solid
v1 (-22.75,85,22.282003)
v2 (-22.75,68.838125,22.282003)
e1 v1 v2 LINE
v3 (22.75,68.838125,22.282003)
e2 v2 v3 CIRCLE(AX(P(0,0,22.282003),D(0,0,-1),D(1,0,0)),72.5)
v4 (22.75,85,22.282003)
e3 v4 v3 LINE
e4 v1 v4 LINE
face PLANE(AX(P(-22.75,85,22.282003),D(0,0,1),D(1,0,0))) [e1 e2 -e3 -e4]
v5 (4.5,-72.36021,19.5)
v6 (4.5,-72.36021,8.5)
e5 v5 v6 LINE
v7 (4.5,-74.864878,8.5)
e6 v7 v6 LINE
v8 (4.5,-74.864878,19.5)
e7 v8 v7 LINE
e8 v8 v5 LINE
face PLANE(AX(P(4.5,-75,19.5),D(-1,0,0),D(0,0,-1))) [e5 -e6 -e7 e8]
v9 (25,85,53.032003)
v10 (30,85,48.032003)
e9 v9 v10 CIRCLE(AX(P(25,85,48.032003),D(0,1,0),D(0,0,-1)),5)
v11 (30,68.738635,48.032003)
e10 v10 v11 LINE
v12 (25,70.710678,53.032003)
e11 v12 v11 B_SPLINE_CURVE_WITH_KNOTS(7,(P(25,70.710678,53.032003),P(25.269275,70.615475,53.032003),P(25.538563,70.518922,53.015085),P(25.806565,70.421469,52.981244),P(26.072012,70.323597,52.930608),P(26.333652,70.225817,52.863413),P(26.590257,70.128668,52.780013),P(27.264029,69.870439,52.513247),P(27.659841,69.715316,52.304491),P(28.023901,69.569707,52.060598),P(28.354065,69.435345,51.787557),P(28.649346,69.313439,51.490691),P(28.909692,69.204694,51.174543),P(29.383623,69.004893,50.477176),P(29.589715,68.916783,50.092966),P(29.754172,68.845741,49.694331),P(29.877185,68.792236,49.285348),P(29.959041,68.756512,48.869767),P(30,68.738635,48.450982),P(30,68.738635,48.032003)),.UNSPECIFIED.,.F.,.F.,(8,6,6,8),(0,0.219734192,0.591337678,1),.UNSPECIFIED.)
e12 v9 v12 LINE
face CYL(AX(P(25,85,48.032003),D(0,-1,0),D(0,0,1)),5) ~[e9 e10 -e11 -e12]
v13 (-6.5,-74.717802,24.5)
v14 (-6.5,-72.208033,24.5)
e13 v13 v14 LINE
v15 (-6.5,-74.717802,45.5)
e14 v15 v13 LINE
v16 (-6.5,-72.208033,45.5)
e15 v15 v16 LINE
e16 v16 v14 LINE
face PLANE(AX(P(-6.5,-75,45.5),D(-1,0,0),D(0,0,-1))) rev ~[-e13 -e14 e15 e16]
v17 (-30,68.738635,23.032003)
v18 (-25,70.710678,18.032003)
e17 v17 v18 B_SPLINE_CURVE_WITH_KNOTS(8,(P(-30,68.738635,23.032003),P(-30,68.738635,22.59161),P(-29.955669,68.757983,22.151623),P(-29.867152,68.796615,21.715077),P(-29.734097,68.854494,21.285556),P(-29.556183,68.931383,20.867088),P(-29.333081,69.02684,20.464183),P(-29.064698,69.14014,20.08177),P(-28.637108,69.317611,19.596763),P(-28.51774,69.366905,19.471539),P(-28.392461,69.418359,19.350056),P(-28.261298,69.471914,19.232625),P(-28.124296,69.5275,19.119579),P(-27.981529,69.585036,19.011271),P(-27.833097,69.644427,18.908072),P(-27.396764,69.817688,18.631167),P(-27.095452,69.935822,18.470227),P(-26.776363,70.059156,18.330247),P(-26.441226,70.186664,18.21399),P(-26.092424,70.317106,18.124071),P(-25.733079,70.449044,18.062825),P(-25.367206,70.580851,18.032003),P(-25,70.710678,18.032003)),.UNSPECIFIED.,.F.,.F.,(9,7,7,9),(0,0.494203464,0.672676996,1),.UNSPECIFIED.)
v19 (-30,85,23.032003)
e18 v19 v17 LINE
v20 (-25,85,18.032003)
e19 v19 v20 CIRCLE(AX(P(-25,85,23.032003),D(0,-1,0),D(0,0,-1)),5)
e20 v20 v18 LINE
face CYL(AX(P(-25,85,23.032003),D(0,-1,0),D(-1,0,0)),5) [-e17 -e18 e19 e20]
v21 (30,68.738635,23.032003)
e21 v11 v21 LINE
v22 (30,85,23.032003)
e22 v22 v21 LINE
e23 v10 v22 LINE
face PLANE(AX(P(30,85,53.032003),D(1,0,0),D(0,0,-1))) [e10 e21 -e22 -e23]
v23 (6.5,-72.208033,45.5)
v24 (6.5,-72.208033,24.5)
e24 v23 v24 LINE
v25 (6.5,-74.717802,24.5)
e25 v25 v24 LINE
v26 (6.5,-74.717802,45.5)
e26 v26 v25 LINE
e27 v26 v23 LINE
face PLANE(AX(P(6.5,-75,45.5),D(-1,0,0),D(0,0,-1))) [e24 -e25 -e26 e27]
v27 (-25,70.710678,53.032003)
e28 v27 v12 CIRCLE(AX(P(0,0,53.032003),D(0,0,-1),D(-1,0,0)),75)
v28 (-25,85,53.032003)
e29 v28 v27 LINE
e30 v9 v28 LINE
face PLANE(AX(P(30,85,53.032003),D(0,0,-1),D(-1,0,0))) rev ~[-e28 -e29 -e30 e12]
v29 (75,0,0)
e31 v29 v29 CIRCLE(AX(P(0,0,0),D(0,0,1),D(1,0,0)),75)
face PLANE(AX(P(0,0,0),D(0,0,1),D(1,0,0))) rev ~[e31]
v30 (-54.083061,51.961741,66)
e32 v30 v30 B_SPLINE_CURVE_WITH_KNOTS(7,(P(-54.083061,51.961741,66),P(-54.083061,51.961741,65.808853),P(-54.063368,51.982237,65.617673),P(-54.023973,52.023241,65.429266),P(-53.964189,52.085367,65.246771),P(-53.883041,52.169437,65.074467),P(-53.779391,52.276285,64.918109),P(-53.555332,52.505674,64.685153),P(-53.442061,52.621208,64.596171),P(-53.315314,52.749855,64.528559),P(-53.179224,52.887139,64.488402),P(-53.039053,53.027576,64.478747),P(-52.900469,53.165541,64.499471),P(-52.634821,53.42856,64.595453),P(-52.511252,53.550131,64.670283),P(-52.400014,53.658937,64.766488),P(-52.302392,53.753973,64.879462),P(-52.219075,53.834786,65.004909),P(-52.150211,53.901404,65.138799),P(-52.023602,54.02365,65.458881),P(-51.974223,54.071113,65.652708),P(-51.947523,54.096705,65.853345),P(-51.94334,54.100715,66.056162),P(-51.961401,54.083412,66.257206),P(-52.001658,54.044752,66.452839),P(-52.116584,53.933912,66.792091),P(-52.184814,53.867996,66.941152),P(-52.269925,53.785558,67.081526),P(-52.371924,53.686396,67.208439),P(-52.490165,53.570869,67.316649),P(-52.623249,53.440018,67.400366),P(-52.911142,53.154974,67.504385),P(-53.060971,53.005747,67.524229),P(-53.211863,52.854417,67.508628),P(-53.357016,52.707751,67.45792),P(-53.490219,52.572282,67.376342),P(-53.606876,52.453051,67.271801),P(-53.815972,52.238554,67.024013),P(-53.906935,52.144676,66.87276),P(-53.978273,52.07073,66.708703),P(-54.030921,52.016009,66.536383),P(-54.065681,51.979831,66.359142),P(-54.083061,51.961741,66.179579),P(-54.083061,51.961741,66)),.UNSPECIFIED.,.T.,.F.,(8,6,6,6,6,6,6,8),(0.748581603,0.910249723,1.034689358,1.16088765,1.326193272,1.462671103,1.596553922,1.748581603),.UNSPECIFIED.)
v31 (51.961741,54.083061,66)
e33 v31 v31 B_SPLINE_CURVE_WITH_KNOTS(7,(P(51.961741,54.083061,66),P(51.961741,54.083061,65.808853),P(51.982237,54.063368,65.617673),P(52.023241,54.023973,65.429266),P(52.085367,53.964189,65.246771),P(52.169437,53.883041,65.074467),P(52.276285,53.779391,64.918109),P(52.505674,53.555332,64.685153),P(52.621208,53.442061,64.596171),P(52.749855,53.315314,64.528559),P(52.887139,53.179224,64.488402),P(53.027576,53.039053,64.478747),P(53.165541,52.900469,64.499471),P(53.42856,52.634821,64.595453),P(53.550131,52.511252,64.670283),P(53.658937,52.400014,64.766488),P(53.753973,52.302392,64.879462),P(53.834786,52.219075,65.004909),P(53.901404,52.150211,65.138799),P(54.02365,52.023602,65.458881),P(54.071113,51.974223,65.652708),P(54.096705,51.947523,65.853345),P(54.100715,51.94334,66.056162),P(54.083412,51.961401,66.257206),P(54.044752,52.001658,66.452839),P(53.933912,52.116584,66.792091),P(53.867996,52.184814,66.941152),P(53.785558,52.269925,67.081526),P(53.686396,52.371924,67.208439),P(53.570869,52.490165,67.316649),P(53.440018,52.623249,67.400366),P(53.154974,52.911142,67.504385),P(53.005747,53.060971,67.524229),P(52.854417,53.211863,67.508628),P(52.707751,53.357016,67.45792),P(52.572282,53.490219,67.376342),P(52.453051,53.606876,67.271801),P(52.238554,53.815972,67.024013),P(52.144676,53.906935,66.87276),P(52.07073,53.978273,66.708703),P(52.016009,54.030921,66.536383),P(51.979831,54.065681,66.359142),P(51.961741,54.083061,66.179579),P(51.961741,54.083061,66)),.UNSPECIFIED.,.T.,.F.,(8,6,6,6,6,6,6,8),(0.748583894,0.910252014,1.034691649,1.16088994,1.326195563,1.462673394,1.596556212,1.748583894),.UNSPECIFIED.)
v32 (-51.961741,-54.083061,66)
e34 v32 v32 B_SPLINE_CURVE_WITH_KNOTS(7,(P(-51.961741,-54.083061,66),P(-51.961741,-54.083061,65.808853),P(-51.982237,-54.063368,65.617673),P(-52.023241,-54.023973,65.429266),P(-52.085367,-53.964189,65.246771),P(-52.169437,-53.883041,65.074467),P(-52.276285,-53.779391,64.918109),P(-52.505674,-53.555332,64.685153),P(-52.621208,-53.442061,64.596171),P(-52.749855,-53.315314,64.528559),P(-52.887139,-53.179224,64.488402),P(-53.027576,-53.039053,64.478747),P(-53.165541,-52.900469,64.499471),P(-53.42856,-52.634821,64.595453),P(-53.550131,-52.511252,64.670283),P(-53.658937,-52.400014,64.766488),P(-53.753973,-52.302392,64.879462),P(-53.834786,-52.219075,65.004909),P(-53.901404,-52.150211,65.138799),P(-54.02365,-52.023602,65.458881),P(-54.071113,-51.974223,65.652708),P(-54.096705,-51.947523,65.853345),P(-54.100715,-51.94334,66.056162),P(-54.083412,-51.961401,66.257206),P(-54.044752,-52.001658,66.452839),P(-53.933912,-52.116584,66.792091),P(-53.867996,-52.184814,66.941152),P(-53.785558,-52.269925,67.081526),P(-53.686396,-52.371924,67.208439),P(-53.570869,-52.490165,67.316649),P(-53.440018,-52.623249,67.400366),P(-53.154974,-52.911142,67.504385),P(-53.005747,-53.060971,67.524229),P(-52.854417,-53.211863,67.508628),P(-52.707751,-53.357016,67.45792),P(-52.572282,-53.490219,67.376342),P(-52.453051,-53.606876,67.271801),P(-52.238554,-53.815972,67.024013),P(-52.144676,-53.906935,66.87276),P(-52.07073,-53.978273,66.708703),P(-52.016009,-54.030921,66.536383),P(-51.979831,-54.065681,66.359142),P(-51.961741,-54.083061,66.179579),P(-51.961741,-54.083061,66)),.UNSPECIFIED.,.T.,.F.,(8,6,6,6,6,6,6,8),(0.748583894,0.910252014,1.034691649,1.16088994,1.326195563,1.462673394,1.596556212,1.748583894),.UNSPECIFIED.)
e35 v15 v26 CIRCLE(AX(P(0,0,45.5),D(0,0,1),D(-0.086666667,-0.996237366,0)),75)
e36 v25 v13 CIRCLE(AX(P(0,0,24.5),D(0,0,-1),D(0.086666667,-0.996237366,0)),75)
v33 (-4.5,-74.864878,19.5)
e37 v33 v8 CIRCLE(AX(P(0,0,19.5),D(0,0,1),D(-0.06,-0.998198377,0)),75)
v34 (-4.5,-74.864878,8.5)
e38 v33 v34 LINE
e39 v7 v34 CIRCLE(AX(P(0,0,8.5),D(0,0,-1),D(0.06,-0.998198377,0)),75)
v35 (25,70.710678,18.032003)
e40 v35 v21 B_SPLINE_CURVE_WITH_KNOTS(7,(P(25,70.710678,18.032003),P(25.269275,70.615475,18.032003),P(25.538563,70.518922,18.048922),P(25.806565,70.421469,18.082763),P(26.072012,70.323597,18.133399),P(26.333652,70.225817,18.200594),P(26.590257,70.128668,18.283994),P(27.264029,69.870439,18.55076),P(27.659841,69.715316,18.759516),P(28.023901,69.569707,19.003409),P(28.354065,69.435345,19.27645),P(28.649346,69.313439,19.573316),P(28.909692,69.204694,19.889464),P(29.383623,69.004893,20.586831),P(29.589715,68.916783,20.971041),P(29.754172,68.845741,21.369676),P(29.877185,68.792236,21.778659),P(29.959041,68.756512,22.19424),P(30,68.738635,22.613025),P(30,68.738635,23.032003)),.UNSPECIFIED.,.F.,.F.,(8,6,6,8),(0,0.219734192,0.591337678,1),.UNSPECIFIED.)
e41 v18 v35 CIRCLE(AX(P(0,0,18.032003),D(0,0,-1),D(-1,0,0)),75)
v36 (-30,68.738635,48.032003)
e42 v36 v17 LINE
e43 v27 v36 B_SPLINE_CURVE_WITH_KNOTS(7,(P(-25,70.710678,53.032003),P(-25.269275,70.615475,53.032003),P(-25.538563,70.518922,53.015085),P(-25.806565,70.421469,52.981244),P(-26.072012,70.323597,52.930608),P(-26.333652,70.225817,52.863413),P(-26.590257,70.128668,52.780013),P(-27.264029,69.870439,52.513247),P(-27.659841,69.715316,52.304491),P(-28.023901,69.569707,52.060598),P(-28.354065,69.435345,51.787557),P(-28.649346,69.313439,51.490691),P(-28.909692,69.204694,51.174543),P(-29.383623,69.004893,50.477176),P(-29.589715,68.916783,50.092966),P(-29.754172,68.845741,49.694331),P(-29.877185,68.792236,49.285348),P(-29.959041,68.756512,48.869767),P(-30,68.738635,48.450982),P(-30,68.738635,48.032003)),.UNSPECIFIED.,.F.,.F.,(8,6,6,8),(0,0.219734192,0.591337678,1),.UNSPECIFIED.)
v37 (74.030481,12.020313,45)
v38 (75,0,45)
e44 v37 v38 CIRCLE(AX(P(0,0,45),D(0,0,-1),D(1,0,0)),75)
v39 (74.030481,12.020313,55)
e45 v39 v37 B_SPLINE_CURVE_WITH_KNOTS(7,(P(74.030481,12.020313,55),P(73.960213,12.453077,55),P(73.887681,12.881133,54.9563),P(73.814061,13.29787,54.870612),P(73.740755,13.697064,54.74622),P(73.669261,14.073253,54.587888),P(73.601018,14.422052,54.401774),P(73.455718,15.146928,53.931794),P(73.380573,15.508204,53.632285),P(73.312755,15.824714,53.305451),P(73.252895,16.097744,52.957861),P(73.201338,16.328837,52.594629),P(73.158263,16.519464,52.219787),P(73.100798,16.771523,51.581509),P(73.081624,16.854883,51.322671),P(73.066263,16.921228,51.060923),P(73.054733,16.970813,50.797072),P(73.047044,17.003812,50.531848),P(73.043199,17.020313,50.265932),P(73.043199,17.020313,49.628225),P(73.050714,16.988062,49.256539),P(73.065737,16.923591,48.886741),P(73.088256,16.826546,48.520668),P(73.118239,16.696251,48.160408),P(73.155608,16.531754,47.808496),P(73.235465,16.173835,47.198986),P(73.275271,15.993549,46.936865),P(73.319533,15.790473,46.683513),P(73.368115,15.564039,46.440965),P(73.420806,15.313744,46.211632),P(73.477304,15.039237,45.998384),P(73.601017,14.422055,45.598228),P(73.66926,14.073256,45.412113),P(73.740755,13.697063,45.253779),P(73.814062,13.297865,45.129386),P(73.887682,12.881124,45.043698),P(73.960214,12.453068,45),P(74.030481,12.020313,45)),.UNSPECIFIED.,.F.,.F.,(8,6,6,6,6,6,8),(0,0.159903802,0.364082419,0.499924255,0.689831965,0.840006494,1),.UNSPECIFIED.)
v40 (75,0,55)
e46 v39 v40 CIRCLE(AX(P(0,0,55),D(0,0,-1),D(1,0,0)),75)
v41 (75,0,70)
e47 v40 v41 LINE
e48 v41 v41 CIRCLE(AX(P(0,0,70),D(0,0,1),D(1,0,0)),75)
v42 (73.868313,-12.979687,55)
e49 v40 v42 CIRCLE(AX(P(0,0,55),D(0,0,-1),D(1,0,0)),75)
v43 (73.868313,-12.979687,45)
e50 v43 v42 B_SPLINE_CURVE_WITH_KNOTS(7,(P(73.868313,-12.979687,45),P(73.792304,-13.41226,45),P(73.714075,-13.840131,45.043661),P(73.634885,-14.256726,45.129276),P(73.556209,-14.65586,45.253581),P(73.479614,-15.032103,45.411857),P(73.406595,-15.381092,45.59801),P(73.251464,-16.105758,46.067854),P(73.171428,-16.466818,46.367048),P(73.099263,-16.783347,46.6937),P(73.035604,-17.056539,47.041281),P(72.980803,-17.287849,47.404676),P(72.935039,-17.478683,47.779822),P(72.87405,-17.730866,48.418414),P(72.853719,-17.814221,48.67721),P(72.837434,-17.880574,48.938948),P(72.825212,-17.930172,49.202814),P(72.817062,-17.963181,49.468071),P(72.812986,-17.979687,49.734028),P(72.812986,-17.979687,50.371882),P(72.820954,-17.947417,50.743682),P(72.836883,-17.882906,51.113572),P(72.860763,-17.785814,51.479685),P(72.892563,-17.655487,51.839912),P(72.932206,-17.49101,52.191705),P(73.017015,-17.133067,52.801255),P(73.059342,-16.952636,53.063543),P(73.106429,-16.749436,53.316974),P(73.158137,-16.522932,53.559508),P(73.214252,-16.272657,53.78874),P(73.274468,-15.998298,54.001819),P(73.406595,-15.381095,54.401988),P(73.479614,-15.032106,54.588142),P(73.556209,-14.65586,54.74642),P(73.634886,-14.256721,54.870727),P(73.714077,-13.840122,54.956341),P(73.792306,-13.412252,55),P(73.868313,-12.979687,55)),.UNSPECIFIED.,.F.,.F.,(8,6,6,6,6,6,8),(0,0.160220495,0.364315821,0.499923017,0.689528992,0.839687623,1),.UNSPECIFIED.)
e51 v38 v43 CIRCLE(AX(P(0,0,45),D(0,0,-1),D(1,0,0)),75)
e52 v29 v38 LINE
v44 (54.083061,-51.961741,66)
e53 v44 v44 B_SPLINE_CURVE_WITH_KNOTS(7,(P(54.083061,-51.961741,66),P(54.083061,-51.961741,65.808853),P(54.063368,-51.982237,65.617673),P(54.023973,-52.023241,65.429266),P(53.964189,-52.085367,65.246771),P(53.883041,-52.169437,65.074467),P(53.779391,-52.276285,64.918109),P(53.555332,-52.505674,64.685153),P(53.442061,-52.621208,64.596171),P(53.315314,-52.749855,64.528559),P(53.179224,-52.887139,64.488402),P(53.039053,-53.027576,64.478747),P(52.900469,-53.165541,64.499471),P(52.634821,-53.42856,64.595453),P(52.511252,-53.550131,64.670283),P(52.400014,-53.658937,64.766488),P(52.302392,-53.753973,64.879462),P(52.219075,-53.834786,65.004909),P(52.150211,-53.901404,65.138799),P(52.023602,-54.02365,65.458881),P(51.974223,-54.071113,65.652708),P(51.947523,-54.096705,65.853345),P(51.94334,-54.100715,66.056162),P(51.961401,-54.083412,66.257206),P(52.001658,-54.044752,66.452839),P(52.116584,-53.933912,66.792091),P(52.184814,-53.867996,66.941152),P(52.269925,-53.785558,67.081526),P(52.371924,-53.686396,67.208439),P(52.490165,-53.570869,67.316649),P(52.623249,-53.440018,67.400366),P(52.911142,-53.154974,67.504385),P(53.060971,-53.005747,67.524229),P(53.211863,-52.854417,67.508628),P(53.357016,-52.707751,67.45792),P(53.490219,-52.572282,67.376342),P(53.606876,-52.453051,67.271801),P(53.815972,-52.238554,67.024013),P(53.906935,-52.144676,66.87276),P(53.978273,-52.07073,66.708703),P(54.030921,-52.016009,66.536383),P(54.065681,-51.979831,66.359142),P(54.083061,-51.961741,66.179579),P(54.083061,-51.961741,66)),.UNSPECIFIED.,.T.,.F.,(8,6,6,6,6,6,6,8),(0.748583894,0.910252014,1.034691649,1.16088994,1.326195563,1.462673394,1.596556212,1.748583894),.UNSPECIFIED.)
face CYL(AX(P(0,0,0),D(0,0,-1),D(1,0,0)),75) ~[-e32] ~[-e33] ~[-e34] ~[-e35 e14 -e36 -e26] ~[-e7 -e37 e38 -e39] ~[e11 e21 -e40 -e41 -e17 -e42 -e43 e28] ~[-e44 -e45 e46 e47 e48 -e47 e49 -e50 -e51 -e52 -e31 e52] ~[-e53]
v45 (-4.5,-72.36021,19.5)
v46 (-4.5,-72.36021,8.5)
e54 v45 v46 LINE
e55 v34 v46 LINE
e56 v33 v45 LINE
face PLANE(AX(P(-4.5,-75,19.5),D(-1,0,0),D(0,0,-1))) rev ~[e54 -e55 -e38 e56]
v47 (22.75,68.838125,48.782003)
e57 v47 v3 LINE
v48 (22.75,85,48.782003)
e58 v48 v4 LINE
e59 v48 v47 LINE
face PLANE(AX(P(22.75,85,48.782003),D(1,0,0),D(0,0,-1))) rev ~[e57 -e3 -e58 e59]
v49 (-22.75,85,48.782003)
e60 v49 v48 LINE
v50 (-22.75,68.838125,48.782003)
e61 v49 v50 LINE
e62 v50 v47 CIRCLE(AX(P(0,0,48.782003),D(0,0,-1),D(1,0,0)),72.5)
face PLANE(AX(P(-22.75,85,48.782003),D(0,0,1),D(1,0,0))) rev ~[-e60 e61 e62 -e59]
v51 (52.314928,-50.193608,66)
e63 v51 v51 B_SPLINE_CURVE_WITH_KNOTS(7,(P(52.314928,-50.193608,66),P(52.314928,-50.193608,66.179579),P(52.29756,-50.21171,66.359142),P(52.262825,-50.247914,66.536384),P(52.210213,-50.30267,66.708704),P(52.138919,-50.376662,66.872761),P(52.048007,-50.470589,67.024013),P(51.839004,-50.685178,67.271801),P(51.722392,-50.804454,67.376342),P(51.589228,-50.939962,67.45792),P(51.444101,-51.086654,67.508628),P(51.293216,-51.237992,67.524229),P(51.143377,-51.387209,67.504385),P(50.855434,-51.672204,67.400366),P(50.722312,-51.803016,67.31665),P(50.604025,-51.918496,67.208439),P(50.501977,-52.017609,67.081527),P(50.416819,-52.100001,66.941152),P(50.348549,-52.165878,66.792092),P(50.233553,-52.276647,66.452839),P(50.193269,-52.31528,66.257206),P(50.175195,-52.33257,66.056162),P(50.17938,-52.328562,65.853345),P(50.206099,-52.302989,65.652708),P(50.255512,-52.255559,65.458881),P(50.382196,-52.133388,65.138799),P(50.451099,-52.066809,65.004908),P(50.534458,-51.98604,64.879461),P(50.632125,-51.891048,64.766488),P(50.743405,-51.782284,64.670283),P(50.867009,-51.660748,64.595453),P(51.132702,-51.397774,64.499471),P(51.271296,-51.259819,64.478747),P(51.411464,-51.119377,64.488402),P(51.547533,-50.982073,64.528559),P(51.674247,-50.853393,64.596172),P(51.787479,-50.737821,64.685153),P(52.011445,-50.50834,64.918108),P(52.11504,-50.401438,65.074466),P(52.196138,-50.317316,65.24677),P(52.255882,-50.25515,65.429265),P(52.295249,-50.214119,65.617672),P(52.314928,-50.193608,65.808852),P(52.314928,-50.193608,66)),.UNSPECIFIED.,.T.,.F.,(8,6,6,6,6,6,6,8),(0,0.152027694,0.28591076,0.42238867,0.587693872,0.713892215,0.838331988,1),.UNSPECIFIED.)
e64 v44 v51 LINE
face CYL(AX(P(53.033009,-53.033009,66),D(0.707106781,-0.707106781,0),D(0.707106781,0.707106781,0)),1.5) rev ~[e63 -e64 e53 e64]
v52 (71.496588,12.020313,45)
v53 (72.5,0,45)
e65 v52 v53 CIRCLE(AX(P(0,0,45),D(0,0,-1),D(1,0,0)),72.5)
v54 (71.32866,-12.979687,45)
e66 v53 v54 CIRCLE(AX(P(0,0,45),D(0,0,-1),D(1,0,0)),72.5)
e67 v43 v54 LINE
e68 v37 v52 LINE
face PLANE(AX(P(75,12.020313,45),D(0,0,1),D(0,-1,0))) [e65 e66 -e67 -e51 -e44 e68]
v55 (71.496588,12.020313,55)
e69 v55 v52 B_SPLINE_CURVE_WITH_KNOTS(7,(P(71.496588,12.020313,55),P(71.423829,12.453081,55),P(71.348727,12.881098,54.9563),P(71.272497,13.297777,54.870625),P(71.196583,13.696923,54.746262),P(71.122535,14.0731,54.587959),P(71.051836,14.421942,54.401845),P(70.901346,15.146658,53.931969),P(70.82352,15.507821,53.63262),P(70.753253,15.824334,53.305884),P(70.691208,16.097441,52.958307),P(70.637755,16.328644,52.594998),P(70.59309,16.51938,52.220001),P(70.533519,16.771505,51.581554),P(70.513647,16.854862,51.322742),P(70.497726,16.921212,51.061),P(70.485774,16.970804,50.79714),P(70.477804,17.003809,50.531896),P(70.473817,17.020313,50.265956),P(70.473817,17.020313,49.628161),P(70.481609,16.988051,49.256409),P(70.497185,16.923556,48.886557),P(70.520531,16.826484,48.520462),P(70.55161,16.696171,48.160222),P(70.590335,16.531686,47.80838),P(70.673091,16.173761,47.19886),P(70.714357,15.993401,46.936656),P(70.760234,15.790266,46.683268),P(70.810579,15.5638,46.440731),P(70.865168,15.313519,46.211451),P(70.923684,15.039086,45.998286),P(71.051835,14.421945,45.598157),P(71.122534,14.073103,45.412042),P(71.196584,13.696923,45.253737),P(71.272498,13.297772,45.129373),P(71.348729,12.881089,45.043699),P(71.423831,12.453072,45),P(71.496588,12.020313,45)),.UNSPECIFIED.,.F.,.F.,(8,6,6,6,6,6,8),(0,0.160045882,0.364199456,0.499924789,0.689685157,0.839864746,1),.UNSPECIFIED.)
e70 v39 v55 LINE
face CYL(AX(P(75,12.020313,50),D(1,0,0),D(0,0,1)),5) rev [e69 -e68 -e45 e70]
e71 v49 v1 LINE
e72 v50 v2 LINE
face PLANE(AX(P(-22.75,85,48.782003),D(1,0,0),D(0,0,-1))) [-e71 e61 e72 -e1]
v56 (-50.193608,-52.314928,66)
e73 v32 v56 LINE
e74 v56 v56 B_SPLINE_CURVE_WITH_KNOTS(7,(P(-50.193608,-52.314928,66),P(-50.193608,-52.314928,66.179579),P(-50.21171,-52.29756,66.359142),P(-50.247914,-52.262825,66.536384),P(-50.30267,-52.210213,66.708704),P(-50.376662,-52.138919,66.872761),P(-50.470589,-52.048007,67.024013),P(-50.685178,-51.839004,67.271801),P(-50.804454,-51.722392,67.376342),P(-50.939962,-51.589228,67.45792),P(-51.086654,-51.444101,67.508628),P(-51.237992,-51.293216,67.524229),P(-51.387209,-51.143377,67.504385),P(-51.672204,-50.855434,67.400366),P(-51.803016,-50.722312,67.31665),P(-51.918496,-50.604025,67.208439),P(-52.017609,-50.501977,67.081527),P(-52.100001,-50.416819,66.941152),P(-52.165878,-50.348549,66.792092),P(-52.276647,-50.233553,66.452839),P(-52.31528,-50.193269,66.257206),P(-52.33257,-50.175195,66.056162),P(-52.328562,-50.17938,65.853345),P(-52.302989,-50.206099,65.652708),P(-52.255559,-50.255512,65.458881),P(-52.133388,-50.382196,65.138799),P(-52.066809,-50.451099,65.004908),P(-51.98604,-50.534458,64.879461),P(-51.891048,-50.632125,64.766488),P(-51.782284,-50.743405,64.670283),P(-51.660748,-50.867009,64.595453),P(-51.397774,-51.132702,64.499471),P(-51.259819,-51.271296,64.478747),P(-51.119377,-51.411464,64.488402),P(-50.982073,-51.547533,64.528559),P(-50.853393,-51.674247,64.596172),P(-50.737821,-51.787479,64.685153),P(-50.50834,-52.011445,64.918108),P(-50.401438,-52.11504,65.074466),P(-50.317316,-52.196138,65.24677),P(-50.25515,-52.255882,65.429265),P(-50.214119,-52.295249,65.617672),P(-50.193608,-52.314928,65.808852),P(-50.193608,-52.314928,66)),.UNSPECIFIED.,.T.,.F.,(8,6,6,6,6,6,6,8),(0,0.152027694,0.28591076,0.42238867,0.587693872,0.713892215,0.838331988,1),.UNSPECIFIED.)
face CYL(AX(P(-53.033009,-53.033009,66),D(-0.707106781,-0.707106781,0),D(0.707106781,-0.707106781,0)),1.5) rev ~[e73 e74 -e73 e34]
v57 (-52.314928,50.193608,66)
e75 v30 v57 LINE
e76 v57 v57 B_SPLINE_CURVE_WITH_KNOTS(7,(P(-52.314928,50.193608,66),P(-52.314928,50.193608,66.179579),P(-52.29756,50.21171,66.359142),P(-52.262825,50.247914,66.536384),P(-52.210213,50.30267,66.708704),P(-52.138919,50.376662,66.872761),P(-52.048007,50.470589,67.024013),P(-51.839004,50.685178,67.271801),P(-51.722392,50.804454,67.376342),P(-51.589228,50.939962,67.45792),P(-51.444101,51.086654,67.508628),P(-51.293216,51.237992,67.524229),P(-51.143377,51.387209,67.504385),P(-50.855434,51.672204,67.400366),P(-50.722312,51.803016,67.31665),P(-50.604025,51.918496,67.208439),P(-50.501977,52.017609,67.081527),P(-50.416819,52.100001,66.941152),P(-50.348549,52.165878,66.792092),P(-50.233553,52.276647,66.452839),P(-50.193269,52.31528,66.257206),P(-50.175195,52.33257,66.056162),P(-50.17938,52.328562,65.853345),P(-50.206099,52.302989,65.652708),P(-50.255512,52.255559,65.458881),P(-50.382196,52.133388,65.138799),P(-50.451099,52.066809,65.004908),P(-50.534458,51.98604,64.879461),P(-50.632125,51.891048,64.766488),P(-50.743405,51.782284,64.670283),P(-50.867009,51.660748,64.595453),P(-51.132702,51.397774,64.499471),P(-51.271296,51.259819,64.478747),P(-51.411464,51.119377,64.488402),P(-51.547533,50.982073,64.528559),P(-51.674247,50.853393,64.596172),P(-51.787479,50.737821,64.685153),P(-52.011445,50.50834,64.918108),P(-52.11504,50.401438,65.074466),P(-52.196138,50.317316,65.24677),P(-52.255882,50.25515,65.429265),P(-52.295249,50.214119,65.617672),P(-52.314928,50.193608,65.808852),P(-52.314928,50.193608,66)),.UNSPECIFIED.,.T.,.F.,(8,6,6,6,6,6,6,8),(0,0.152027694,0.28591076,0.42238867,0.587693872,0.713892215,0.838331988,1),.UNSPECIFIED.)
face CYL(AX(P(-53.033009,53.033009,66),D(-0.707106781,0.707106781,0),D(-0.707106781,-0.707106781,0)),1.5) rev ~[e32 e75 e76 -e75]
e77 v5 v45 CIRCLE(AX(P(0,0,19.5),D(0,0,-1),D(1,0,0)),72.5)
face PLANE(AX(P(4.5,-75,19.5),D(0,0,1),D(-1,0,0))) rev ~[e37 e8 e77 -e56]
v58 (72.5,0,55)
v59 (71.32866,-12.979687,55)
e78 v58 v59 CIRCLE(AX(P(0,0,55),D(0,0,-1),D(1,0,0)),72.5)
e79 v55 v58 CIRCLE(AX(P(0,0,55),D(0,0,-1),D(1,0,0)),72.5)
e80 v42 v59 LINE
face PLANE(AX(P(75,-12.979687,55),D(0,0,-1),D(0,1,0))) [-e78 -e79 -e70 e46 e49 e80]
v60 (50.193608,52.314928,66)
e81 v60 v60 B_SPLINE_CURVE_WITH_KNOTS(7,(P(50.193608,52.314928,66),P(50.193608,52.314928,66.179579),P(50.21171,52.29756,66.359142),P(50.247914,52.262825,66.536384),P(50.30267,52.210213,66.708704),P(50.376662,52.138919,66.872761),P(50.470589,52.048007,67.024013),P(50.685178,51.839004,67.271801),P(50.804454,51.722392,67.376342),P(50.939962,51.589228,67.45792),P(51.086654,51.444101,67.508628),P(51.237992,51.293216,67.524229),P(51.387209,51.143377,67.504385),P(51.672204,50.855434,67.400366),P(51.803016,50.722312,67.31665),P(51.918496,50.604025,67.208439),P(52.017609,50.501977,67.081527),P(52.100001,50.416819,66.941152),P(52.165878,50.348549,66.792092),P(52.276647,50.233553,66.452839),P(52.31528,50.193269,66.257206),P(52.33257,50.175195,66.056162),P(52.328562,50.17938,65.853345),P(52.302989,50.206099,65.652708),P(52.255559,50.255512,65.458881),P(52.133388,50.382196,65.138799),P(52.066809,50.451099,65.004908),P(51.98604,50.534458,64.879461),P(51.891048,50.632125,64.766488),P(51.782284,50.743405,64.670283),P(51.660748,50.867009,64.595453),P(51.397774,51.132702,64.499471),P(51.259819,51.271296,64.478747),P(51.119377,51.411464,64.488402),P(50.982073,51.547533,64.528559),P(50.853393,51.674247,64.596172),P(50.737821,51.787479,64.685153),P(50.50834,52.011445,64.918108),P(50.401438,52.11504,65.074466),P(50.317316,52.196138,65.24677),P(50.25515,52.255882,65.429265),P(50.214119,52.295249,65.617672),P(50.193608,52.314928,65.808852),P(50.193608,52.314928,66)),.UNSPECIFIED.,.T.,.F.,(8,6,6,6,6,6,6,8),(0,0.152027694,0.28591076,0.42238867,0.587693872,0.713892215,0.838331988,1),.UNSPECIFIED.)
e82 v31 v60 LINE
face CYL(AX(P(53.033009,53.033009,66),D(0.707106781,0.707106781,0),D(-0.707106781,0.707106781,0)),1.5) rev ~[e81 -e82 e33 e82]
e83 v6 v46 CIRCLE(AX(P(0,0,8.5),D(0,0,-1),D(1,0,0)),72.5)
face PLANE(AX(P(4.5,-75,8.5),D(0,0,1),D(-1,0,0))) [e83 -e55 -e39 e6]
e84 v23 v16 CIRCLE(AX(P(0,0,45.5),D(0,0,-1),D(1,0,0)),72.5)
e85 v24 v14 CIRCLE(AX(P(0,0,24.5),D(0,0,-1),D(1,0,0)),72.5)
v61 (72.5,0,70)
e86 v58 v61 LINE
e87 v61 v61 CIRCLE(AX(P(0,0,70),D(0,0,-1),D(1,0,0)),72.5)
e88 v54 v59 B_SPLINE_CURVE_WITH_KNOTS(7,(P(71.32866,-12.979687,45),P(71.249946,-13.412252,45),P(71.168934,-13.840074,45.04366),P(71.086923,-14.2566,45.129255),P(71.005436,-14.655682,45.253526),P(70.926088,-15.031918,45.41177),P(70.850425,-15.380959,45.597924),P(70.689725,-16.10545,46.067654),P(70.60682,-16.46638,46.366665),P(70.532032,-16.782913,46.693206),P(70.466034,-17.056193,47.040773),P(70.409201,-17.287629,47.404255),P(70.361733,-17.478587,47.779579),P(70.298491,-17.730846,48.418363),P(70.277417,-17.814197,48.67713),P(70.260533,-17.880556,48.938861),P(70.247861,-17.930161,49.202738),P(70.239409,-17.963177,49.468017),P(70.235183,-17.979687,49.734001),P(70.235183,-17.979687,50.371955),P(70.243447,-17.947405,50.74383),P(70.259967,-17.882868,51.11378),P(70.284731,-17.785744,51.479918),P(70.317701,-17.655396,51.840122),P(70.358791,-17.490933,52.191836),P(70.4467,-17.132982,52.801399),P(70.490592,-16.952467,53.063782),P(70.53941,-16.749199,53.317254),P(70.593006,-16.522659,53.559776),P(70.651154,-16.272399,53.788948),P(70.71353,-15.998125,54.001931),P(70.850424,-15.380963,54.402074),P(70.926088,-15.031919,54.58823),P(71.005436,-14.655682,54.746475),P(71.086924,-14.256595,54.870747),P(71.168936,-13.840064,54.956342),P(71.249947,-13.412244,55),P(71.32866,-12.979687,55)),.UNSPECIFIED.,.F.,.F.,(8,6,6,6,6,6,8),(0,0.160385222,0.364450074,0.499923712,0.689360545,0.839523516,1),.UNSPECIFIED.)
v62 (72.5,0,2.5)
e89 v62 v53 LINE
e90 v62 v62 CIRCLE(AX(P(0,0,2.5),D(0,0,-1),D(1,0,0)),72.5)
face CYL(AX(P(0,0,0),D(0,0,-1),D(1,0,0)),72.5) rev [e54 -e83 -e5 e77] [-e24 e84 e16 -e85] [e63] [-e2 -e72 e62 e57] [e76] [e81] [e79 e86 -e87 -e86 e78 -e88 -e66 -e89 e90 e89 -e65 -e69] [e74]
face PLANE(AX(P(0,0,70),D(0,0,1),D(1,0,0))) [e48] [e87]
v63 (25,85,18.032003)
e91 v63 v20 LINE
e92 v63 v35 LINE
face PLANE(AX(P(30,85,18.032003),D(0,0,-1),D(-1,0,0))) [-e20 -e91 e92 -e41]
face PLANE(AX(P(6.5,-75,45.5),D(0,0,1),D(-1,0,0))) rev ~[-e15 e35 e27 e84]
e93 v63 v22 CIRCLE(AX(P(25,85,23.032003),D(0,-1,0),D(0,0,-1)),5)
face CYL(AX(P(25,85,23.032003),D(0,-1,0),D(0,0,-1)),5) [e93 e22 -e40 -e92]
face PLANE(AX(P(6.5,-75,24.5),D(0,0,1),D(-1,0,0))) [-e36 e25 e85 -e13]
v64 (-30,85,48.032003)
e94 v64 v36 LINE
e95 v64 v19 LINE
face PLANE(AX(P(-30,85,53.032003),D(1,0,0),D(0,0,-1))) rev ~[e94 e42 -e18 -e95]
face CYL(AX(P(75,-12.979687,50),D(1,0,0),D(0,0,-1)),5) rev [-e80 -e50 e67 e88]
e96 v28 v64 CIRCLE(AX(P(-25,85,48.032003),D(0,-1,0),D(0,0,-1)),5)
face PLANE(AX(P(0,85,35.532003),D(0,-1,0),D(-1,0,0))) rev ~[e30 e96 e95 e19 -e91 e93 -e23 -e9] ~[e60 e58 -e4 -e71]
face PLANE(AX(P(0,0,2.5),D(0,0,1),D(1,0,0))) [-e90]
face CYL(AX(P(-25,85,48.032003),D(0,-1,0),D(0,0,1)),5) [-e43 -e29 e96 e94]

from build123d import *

# Parameters (mm, degrees)
SZKIC1_R                         = 75
DODANIE_WYCI_GNI_CIE1_DEPTH      = 70
SKORUPA1_T                       = -2.5
SZKIC3_W                         = 13
SZKIC3_H                         = 21
WYTNIJ_WYCI_GNI_CIE1_DEPTH       = 60
SZKIC4_W                         = 9
SZKIC4_H                         = 11
WYTNIJ_WYCI_GNI_CIE2_DEPTH       = 60
DODANIE_WYCI_GNI_CIE2_REACH      = 192.066
DODANIE_WYCI_GNI_CIE2_END_RADIUS = 75
SZKIC7_W                         = 60
SZKIC7_H                         = 35
SZKIC8_W                         = 45.5
SZKIC8_H                         = 26.5
WYTNIJ_WYCI_GNI_CIE4_DEPTH       = 30
ZAOKR_GLENIE1_R                  = 5
WYTNIJ_WYCI_GNI_CIE5_DEPTH       = 14
SZKIC10_R                        = 1.5
WYTNIJ_WYCI_GNI_CIE6_DEPTH       = 10
SZYK_KO_OWY1_COUNT               = 4


with BuildPart() as part:
    # Szkic1 → Dodanie-wyci_gni_cie1 (new body)
    with BuildSketch(Plane.XY):
        Circle(SZKIC1_R)
    extrude(amount=DODANIE_WYCI_GNI_CIE1_DEPTH)

    # Skorupa1
    skorupa1_openings = [part.faces().sort_by_distance(p)[0] for p in [
        (0, 0, 70),
    ]]
    offset(amount=SKORUPA1_T, openings=skorupa1_openings, kind=Kind.INTERSECTION)

    # Szkic3 → Wytnij-wyci_gni_cie1 (cut)
    with BuildSketch(Plane(origin=(0, -75, 0), x_dir=(-1, 0, 0), z_dir=(0, -1, 0))):
        with Locations((0, -35)):
            Rectangle(SZKIC3_W, SZKIC3_H)
    extrude(amount=-WYTNIJ_WYCI_GNI_CIE1_DEPTH, mode=Mode.SUBTRACT)

    # Szkic4 → Wytnij-wyci_gni_cie2 (cut)
    with BuildSketch(Plane(origin=(0, -75, 0), x_dir=(-1, 0, 0), z_dir=(0, -1, 0))):
        with Locations((0, -14)):
            Rectangle(SZKIC4_W, SZKIC4_H)
    extrude(amount=-WYTNIJ_WYCI_GNI_CIE2_DEPTH, mode=Mode.SUBTRACT)

    # Dodanie-wyci_gni_cie2: up to this cylinder (the profile starts outside it)
    dodanie_wyci_gni_cie2_end = Plane(origin=(0, 0, 35.532003), z_dir=(0, 0, -1)) * Cylinder(DODANIE_WYCI_GNI_CIE2_END_RADIUS, 535.132, mode=Mode.PRIVATE)
    # Szkic7 → Dodanie-wyci_gni_cie2 (add, up to the surface)
    with BuildSketch(Plane(origin=(0, 85, 0), x_dir=(-1, 0, 0), z_dir=(0, -1, 0)), mode=Mode.PRIVATE) as dodanie_wyci_gni_cie2_sk1:
        with Locations((0, -35.532003496)):
            Rectangle(SZKIC7_W, SZKIC7_H)
    dodanie_wyci_gni_cie2_tool1 = extrude(dodanie_wyci_gni_cie2_sk1.sketch, amount=DODANIE_WYCI_GNI_CIE2_REACH, mode=Mode.PRIVATE) - dodanie_wyci_gni_cie2_end
    add(dodanie_wyci_gni_cie2_tool1.solids().sort_by_distance((0, 85, 35.532003))[0])

    # Szkic8 → Wytnij-wyci_gni_cie4 (cut)
    with BuildSketch(Plane(origin=(0, 85, 0), x_dir=(1, 0, 0), z_dir=(0, 1, 0))):
        with Locations((0, -35.532003496)):
            Rectangle(SZKIC8_W, SZKIC8_H)
    extrude(amount=-WYTNIJ_WYCI_GNI_CIE4_DEPTH, mode=Mode.SUBTRACT)

    # Zaokr_glenie1
    zaokr_glenie1_edges = [part.edges().sort_by_distance(p)[0] for p in [
        (-30, 76.869317712, 18.032003496),
        (-30, 76.869317712, 53.032003496),
        (30, 76.869317712, 18.032003496),
        (30, 76.869317712, 53.032003496),
    ]]
    fillet(zaokr_glenie1_edges, radius=ZAOKR_GLENIE1_R)

    # Szkic9 → Wytnij-wyci_gni_cie5 (cut)
    with BuildSketch(Plane(origin=(75, 0, 0), x_dir=(0, 0, -1), z_dir=(1, 0, 0))):
        with BuildLine():
            Line((-55, -12.979686846), (-55, 12.020313154))
            ThreePointArc((-55, 12.020313154), (-50, 17.020313154), (-45, 12.020313154))
            Line((-45, 12.020313154), (-45, -12.979686846))
            ThreePointArc((-45, -12.979686846), (-50, -17.979686846), (-55, -12.979686846))
        make_face()
    extrude(amount=-WYTNIJ_WYCI_GNI_CIE5_DEPTH, mode=Mode.SUBTRACT)

    # Szkic10 → Wytnij-wyci_gni_cie6 (cut)
    with BuildSketch(Plane(origin=(53.033008589, 53.033008589, 0), x_dir=(0, 0, -1), z_dir=(0.7071067811865512, 0.7071067811865438, 0))):
        with Locations(Location((-66, 0, 0), (0, 0, 90))):
            Circle(SZKIC10_R)
    wytnij_wyci_gni_cie6 = extrude(amount=-WYTNIJ_WYCI_GNI_CIE6_DEPTH, mode=Mode.SUBTRACT)

    # Szyk ko_owy1: Wytnij-wyci_gni_cie6 ×4 about axis
    szyk_ko_owy1_axis = Axis((0, 0, 70), (0, 0, -1))
    for i in range(1, SZYK_KO_OWY1_COUNT):
        add(wytnij_wyci_gni_cie6.rotate(szyk_ko_owy1_axis, i * 360 / SZYK_KO_OWY1_COUNT), mode=Mode.SUBTRACT)


solid = part.part
